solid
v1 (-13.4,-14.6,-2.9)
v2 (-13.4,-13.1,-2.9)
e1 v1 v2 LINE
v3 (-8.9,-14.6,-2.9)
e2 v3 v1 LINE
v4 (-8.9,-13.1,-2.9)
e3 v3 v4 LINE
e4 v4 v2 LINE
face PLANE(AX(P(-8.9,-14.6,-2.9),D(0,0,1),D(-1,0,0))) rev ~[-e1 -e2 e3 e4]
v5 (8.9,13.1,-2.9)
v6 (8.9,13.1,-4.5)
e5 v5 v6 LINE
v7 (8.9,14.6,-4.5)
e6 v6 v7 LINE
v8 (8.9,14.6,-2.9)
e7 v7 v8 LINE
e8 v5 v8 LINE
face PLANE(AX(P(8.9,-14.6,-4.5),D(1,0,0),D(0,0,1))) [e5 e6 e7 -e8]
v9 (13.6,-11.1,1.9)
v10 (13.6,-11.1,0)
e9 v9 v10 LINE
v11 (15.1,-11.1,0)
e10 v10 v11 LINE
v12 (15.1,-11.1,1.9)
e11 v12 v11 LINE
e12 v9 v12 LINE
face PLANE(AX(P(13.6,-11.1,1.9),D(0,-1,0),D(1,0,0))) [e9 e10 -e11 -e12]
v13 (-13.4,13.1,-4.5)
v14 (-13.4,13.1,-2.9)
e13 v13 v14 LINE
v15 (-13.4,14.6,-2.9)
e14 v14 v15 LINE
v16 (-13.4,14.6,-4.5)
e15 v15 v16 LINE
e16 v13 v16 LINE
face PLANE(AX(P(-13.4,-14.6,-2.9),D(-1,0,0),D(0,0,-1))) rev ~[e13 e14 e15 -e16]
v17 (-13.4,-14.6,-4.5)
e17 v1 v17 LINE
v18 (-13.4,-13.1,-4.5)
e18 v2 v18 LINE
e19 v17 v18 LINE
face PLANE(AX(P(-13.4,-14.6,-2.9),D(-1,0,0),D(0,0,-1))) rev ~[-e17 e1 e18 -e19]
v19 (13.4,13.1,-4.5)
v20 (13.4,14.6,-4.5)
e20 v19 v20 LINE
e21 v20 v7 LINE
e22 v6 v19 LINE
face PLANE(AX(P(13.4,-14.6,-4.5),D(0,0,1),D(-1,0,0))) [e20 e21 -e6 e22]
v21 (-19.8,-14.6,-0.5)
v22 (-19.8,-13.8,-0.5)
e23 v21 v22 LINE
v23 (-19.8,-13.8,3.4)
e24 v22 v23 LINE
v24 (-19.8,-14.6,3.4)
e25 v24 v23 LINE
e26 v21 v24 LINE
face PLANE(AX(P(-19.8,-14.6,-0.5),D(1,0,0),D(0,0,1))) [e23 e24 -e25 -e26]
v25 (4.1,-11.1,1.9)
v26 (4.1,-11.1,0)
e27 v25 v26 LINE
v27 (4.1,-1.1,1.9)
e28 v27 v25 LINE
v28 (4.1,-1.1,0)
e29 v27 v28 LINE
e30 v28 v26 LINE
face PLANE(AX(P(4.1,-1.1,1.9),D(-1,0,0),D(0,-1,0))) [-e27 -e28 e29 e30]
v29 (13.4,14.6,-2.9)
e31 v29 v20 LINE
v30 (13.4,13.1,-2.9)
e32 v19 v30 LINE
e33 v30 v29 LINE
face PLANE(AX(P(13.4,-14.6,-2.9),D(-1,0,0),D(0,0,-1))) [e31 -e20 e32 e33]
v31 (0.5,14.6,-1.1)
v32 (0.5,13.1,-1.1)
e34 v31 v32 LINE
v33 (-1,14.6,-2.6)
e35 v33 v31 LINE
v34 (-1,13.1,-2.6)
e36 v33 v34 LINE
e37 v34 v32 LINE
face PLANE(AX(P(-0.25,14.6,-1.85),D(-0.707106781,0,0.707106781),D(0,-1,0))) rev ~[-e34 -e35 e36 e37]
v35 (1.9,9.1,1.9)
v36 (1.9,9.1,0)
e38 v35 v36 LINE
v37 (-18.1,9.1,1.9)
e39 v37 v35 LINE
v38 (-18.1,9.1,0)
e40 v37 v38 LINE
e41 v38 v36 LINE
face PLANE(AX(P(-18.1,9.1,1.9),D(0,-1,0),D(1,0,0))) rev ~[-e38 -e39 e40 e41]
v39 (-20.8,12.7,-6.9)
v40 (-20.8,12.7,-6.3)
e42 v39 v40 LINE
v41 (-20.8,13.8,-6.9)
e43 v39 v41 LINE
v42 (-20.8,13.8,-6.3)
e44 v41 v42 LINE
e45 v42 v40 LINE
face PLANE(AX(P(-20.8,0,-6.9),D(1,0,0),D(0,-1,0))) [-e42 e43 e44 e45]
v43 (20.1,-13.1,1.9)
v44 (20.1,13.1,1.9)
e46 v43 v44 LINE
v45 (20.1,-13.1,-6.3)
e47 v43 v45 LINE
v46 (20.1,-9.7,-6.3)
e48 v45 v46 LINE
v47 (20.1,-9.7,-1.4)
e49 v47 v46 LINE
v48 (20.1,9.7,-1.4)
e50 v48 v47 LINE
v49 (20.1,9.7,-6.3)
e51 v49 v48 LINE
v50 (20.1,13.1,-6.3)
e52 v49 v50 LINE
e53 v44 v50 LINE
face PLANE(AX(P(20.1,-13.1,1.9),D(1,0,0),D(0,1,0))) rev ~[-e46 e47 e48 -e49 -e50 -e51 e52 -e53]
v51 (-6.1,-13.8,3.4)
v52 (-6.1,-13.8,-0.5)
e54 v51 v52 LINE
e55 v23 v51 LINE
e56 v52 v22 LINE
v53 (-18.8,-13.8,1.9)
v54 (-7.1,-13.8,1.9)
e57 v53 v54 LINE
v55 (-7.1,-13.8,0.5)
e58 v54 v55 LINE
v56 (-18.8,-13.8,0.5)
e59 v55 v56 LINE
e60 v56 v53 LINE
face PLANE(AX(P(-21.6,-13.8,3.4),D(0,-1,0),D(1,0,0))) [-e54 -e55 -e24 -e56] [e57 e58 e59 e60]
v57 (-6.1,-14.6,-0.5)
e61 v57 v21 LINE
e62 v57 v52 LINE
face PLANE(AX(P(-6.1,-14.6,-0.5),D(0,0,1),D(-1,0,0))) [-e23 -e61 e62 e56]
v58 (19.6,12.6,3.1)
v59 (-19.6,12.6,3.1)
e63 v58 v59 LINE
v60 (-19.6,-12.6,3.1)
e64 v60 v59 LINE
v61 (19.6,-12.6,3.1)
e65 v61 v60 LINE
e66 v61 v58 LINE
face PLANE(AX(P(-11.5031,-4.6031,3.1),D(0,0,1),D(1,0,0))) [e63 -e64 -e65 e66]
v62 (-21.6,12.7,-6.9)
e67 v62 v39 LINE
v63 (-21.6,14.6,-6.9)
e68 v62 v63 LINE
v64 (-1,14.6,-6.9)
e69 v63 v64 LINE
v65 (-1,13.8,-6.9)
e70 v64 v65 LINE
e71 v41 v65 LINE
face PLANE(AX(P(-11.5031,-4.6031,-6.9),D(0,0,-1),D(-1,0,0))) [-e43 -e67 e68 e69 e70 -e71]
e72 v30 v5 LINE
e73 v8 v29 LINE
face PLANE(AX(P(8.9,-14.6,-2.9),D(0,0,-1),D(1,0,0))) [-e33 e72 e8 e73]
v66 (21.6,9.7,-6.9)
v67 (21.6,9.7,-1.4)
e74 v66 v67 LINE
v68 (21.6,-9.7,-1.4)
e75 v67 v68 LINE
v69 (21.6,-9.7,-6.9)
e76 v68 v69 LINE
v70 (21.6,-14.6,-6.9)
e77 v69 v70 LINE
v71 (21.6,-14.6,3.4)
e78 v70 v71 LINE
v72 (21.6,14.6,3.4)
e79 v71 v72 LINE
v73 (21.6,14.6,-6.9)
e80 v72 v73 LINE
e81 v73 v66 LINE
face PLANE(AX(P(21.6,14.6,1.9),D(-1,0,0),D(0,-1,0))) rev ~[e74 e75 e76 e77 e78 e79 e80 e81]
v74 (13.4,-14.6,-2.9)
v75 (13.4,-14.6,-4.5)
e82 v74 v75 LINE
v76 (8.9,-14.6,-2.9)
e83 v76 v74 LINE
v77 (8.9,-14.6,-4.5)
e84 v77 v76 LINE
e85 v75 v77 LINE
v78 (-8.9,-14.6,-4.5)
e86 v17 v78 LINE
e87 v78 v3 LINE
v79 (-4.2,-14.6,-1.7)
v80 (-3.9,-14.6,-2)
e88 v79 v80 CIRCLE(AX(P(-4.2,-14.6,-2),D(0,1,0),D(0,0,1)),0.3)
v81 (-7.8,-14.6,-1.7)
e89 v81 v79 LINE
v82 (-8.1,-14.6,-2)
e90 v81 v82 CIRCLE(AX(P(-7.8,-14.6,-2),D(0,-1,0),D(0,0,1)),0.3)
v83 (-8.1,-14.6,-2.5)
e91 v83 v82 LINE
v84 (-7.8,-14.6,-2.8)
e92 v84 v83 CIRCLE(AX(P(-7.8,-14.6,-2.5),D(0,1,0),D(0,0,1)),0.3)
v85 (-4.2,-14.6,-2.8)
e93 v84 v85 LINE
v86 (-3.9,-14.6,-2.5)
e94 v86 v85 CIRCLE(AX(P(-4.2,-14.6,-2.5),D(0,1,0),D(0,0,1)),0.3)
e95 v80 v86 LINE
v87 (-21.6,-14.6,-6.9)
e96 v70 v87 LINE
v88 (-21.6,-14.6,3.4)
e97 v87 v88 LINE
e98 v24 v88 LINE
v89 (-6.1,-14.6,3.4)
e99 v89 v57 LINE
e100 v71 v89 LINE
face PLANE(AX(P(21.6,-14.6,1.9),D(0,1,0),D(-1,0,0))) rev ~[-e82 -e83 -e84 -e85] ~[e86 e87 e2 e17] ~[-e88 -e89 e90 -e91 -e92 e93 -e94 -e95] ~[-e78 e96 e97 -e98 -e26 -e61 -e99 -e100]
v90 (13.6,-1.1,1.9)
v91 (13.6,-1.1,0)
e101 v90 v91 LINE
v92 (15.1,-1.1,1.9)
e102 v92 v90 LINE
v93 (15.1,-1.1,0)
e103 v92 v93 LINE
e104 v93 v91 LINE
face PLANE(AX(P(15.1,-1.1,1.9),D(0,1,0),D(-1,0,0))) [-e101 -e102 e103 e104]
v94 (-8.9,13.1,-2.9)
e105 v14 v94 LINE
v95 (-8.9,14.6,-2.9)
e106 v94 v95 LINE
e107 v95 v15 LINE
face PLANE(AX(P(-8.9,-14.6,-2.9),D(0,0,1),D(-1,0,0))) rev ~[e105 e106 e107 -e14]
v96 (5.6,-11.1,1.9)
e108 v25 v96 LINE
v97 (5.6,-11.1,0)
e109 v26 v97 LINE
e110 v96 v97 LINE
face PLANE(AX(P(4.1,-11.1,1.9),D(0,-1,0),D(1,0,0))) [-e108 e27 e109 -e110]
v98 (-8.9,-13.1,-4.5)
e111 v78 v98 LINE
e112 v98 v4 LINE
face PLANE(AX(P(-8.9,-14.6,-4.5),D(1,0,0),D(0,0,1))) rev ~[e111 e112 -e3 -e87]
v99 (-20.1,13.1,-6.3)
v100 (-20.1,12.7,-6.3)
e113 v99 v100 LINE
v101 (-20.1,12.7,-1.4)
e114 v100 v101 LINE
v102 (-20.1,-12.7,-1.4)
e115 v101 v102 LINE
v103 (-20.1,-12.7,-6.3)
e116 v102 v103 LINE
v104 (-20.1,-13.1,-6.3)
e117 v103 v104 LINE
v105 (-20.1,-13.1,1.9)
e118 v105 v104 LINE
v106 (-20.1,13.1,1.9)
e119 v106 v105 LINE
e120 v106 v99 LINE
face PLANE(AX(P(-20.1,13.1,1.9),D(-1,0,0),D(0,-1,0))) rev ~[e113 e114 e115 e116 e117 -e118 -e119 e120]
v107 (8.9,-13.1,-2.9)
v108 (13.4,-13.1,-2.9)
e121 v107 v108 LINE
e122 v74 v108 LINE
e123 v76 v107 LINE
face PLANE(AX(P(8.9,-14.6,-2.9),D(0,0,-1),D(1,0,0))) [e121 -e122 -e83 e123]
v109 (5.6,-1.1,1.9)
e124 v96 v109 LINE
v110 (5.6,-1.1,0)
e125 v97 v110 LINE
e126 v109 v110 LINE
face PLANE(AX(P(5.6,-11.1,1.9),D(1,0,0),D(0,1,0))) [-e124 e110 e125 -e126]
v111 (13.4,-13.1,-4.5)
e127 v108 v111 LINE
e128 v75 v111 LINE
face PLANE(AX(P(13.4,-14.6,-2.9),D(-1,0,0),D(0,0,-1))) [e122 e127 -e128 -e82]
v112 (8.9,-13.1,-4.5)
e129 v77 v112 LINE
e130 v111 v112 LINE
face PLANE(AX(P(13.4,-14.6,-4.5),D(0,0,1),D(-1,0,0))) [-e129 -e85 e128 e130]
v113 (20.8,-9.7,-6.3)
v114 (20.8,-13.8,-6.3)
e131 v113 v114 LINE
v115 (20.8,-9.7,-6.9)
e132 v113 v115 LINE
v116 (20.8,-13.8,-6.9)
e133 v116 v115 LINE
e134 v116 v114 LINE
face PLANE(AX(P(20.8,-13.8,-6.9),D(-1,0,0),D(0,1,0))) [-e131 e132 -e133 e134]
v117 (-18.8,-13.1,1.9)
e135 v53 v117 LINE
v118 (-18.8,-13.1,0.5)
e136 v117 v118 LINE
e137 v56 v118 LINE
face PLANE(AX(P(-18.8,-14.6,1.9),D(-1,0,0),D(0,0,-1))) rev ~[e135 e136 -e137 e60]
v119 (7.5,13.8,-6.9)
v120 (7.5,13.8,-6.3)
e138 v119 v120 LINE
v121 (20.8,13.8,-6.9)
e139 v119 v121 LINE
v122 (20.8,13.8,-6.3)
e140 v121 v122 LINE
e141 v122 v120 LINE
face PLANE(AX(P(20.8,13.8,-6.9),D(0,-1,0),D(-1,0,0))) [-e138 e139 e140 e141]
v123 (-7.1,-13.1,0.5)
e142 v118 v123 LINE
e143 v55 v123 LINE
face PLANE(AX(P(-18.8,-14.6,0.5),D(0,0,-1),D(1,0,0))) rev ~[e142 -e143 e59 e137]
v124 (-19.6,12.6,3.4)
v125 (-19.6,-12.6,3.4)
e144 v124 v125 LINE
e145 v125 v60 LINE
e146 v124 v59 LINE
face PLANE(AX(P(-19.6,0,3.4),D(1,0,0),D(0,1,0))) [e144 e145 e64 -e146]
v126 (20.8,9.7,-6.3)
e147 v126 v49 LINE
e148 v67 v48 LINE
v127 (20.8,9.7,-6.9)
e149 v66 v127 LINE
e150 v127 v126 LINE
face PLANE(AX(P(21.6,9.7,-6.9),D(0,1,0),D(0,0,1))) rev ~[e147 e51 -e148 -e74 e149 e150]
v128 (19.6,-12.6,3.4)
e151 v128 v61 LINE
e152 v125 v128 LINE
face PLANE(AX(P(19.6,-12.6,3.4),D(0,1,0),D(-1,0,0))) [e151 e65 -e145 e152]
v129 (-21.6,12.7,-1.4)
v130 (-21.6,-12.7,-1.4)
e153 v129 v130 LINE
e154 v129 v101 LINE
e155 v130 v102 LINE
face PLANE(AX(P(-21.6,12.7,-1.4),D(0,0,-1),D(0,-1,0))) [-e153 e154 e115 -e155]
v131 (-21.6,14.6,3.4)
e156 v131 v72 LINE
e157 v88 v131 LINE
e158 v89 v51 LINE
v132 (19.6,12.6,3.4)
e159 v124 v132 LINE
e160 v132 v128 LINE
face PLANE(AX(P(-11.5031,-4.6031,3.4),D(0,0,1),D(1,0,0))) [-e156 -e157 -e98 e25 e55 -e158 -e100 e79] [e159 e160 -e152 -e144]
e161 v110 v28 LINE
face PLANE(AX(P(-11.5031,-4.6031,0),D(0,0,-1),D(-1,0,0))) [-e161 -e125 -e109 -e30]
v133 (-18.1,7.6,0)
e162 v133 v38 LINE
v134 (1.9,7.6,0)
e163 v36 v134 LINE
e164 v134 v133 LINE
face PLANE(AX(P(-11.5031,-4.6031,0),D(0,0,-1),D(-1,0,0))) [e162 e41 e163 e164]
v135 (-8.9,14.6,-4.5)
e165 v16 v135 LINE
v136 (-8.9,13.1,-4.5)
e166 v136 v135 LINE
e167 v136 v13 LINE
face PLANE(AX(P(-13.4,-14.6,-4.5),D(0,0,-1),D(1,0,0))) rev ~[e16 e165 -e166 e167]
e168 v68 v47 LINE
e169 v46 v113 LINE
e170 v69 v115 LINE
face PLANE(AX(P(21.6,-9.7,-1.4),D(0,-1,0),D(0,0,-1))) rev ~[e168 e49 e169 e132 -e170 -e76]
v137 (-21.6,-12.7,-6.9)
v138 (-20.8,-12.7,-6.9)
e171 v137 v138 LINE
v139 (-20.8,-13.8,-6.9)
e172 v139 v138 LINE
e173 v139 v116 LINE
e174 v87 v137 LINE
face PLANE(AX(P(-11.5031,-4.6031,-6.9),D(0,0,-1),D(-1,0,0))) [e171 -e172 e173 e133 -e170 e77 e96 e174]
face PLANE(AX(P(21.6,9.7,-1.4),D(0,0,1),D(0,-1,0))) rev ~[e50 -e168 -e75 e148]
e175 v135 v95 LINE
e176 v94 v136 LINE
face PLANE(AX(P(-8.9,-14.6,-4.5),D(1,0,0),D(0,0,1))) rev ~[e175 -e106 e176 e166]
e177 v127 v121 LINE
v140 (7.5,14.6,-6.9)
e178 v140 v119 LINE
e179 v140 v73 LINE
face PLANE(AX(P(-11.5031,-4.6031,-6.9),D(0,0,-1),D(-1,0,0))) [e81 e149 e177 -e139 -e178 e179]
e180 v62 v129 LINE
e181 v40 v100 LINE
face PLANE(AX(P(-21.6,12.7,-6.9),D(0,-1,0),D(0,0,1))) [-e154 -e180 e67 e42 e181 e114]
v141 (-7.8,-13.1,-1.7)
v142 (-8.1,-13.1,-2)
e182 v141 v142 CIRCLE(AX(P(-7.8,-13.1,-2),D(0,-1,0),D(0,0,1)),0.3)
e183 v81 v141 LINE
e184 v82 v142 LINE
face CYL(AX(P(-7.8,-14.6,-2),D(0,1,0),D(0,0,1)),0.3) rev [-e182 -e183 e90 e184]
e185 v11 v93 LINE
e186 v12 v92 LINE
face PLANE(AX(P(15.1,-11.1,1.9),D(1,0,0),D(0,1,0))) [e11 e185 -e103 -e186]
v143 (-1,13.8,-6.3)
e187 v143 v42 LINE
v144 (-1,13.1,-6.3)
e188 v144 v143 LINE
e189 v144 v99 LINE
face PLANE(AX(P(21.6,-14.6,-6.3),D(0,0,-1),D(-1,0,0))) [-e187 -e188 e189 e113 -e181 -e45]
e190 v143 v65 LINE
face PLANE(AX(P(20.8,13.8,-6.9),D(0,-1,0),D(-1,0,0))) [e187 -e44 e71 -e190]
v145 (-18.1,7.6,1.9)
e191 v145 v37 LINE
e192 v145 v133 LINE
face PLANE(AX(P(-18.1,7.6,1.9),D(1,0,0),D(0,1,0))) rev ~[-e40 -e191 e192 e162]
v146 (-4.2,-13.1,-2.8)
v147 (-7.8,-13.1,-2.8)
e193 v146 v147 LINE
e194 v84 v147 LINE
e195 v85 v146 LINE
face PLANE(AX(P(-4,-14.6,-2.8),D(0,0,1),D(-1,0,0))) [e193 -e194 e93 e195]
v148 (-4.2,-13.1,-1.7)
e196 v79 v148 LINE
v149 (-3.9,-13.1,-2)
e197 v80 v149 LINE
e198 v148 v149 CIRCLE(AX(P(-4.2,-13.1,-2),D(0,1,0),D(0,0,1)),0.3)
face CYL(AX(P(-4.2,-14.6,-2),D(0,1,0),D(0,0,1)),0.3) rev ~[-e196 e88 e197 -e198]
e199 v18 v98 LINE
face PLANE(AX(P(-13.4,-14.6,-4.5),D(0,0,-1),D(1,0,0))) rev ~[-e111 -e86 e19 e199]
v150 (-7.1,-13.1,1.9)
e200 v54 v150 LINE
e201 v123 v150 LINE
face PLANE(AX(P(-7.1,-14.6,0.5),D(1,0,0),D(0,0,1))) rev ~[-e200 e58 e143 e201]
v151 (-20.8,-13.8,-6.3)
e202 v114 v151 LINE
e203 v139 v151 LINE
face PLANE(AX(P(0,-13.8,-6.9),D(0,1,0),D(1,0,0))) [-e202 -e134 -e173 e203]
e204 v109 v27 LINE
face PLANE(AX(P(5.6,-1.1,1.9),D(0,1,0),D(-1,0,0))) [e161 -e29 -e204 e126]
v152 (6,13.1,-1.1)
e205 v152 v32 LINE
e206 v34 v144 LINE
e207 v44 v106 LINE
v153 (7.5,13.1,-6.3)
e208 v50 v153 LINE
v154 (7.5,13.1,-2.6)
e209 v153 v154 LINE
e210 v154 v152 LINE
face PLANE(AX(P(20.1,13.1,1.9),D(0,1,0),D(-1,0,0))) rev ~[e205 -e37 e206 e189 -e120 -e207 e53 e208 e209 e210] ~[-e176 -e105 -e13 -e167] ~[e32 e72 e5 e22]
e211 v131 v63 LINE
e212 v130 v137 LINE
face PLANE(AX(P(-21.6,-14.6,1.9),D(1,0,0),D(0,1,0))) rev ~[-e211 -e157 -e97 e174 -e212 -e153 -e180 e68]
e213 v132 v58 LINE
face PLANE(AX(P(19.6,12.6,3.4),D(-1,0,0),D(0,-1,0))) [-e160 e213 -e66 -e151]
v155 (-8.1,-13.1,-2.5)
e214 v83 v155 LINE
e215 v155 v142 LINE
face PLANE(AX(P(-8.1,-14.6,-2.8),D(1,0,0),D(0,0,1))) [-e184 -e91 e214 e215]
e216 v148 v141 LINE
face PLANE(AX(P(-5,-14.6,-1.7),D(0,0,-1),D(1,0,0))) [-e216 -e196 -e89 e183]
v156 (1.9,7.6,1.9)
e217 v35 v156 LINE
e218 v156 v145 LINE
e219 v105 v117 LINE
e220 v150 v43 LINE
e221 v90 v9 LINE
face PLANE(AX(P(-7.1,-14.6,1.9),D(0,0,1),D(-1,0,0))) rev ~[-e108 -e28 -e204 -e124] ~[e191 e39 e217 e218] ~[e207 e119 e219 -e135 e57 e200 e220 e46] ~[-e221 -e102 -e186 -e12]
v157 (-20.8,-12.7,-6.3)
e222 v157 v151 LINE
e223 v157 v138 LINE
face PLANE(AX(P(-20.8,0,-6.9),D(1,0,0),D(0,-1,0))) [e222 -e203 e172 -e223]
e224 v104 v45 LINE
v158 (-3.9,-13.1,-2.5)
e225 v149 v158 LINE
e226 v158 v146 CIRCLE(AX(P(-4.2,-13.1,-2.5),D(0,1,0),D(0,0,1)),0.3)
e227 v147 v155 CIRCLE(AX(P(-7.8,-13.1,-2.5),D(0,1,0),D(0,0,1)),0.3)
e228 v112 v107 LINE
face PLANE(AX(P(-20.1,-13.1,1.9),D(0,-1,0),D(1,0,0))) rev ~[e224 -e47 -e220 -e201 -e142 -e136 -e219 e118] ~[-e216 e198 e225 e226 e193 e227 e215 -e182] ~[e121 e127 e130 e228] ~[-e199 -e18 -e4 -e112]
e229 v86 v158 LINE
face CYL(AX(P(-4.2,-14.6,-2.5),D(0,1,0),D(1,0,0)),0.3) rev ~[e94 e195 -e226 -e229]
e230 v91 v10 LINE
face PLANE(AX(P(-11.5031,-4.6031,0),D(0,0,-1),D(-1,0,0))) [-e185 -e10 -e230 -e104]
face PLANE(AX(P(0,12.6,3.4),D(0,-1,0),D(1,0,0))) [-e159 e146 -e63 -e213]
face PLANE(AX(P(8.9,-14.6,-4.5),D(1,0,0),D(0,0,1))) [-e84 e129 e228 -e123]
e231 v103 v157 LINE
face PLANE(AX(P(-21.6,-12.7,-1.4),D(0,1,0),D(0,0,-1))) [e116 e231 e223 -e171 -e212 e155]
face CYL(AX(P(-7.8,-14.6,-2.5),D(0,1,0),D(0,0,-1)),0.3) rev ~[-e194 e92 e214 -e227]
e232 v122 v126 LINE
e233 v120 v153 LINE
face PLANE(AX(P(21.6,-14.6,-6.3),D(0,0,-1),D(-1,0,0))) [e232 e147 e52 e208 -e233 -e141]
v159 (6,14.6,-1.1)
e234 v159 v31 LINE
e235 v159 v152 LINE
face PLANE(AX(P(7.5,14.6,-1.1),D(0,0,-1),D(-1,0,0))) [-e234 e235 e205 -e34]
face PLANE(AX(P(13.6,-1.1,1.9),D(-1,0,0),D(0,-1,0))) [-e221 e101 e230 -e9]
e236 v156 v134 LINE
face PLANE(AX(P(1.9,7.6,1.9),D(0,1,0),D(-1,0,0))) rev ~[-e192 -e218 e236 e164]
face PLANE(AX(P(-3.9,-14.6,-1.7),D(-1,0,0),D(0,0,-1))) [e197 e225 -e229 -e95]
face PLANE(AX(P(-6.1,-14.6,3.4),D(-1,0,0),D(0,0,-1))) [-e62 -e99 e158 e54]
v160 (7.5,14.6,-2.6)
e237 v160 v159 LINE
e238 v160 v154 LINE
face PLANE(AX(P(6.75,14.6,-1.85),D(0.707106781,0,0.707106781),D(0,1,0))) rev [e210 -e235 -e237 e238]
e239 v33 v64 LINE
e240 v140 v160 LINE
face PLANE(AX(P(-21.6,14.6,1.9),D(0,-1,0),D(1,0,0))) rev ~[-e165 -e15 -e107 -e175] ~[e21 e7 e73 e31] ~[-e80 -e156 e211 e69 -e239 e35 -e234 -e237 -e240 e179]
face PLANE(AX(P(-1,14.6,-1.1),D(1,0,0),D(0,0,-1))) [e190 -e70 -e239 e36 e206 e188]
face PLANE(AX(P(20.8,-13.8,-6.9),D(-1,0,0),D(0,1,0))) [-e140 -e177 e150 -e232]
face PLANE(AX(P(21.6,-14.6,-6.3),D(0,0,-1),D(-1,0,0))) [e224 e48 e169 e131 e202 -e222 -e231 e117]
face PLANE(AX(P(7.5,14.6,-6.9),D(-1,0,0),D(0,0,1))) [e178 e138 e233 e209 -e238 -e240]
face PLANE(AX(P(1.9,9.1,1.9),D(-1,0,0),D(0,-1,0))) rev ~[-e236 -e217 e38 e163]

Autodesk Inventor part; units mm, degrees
ref_plane "YZ Plane" through (0, 0, 0) normal (1, 0, 0) x (0, 1, 0)
ref_plane "XZ Plane" through (0, 0, 0) normal (0, 1, 0) x (-1, 0, 0)
ref_plane "EbeneBoden" through (-11.5031, -4.6031, 1.9) normal (0, 0, 1) x (1, 0, 0)
ref_plane "EbeneWändeEnde" through (17.7, 4.9, -6.9) normal (0, 0, -1) x (-1, 0, 0)
sketch "SkizzeBoden" plane through (-11.5031, -4.6031, 1.9) normal (0, 0, 1) x (1, 0, 0)
  line L0 (-7.1969, 7.4031) -> (6.8031, 7.4031) projected
  line L1 (6.8031, 7.4031) -> (6.8031, -7.7969) projected
  line L2 (6.8031, -7.7969) -> (4.3031, -7.7969) projected
  line L3 (4.3031, -7.7969) -> (4.3031, -6.7969) projected
  line L4 (4.3031, -6.7969) -> (-7.1969, -6.7969) projected
  line L5 (-7.1969, -6.7969) -> (-7.1969, 7.4031) projected
  line L6 (31.5031, 17.6031) -> (-8.4969, 17.6031) projected
  line L7 (-8.4969, 17.6031) -> (-8.4969, -8.3969) projected
  line L8 (-8.4969, -8.3969) -> (31.5031, -8.3969) projected
  line L9 (31.5031, -8.3969) -> (31.5031, 17.6031) projected
  line L10 (-18.7369, 4.6031) -> (41.7431, 4.6031) projected
  line L11 (11.5031, -15.8369) -> (11.5031, 25.0431) projected
  line L12 (-10.0969, 19.2031) -> (33.1031, 19.2031)
  line L13 (33.1031, 19.2031) -> (33.1031, -9.9969)
  line L14 (33.1031, -9.9969) -> (-10.0969, -9.9969)
  line L15 (-10.0969, -9.9969) -> (-10.0969, 19.2031)
  point P0 (11.5031, 4.6031)
  dimension "d0" = 1.6
extrude "Boden" add sketch "SkizzeBoden" along normal blind 1.5
sketch "SkizzeWände" plane through (-11.5031, -4.6031, 1.9) normal (0, 0, -1) x (-1, 0, 0)
  line L0 (10.0969, 19.2031) -> (-33.1031, 19.2031) projected
  line L1 (-33.1031, 19.2031) -> (-33.1031, -9.9969) projected
  line L2 (-33.1031, -9.9969) -> (10.0969, -9.9969) projected
  line L3 (10.0969, -9.9969) -> (10.0969, 19.2031) projected
  line L4 (-31.6031, 17.7031) -> (8.5969, 17.7031)
  line L5 (8.5969, 17.7031) -> (8.5969, -8.4969)
  line L6 (8.5969, -8.4969) -> (-31.6031, -8.4969)
  line L7 (-31.6031, -8.4969) -> (-31.6031, 17.7031)
  point P0 (-11.5031, 4.6031)
  dimension "d3" = 1.5
extrude "Wände" add sketch "SkizzeWände" along normal up to surface (8.8 mm away)
sketch "SkizzeAuflage" plane through (-11.5031, -4.6031, 1.9) normal (0, 0, -1) x (-1, 0, 0)
  line L0 (8.5969, -8.4969) -> (8.5969, 17.7031) projected
  line L1 (-31.6031, -8.4969) -> (8.5969, -8.4969) projected
  line L2 (-31.6031, 17.7031) -> (-31.6031, -8.4969) projected
  line L3 (8.5969, 17.7031) -> (-31.6031, 17.7031) projected
  line L4 (10.0969, 19.2031) -> (10.0969, -9.9969) projected
  line L5 (-33.1031, 19.2031) -> (10.0969, 19.2031) projected
  line L6 (-33.1031, -9.9969) -> (-33.1031, 19.2031) projected
  line L7 (10.0969, -9.9969) -> (-33.1031, -9.9969) projected
  line L8 (-26.6031, 3.5031) -> (-25.1031, 3.5031)
  line L9 (-25.1031, 3.5031) -> (-25.1031, -6.4969)
  line L10 (-25.1031, -6.4969) -> (-26.6031, -6.4969)
  line L11 (-26.6031, -6.4969) -> (-26.6031, 3.5031)
  line L12 (-17.1031, 3.5031) -> (-15.6031, 3.5031)
  line L13 (-15.6031, 3.5031) -> (-15.6031, -6.4969)
  line L14 (-15.6031, -6.4969) -> (-17.1031, -6.4969)
  line L15 (-17.1031, -6.4969) -> (-17.1031, 3.5031)
  line L16 (6.5969, 13.7031) -> (-13.4031, 13.7031)
  line L17 (-13.4031, 13.7031) -> (-13.4031, 12.2031)
  line L18 (-13.4031, 12.2031) -> (6.5969, 12.2031)
  line L19 (6.5969, 12.2031) -> (6.5969, 13.7031)
  point P0 (-11.5031, 4.6031)
  dimension "d6" = 5
  dimension "d7" = 1.5
  dimension "d8" = 8
  dimension "d9" = 2
  dimension "d10" = 10
  dimension "d11" = 20
  dimension "d12" = 1.5
  dimension "d13" = 4
  dimension "d14" = 2
ref_plane "EbeneAuflage" through (-20, -13, 0) normal (0, 0, 1) x (1, 0, 0)
extrude "Auflage" add sketch "SkizzeAuflage" along normal up to surface (1.9 mm away) contours L8 L9 L10 L11 | L12 L13 L14 L15 | L19 L18 L17 L16
sketch "SkizzeSD" plane through (-21.6, -14.6, 3.4) normal (0, -1, 0) x (1, 0, 0)
  line L0 (43.2, 0) -> (43.2, -10.3) projected
  line L1 (3.1, -2.6) -> (14.2, -2.6) projected
  line L2 (14.2, -2.6) -> (14.2, -1.6) projected
  line L3 (14.2, -1.6) -> (3.1, -1.6) projected
  line L4 (3.1, -1.6) -> (3.1, -2.6) projected
  line L5 (41.7, -1.5) -> (1.5, -1.5) projected
  line L6 (14.5, -1.5) -> (2.8, -1.5)
  line L7 (2.8, -1.5) -> (2.8, -2.9)
  line L8 (2.8, -2.9) -> (14.5, -2.9)
  line L9 (14.5, -2.9) -> (14.5, -1.5)
  line L10 (8.65, -4) -> (8.65, -0.8838) construction
  point P0 (21.6, -3.4)
  point P1 (8.65, -2.6)
  dimension "d17" = 0.3
  dimension "d18" = 0.3
extrude "SD" cut sketch "SkizzeSD" against normal up to surface (1.5 mm away) contours L4 L3 L2 L1 | L9 L8 L7 L5
sketch "Skizze7" plane through (-21.6, -14.6, 3.4) normal (0, -1, 0) x (1, 0, 0)
  line L0 (14.5, -1.5) -> (14.5, -2.9) projected
  line L1 (14.5, -2.9) -> (2.8, -2.9) projected
  line L2 (0, 0) -> (43.2, 0) projected
  line L3 (15.5, -3.9) -> (1.8, -3.9)
  line L4 (1.8, -3.9) -> (1.8, 0)
  line L5 (1.8, 0) -> (15.5, 0)
  line L6 (15.5, 0) -> (15.5, -3.9)
  line L7 (8.65, -3.6567) -> (8.65, -1) construction
  point P0 (21.6, -3.4)
  point P1 (8.65, -2.9)
  dimension "d21" = 1
  dimension "d22" = 1
extrude "SDHilfe" cut sketch "Skizze7" against normal blind 0.8
sketch "SkizzeLED" plane through (-21.6, -14.6, -6.9) normal (0, -1, 0) x (1, 0, 0)
  line L0 (16.6, 5.2) -> (17.6, 5.2) projected
  line L1 (16.6, 5.2) -> (16.6, 4.1) projected
  line L2 (17.6, 4.1) -> (16.6, 4.1) projected
  line L3 (17.6, 5.2) -> (17.6, 4.1) projected
  line L4 (15.1, 5.2) -> (16.1, 5.2) projected
  line L5 (15.1, 5.2) -> (15.1, 4.1) projected
  line L6 (16.1, 4.1) -> (15.1, 4.1) projected
  line L7 (16.1, 5.2) -> (16.1, 4.1) projected
  line L8 (13.6, 5.2) -> (14.6, 5.2) projected
  line L9 (13.6, 5.2) -> (13.6, 4.1) projected
  line L10 (14.6, 4.1) -> (13.6, 4.1) projected
  line L11 (14.6, 5.2) -> (14.6, 4.1) projected
  line L12 (15.6, 3.5363) -> (15.6, 5.4531) construction
  line L13 (17.7, 4.1) -> (13.5, 4.1)
  line L14 (13.5, 4.1) -> (13.5, 5.2)
  line L15 (13.5, 5.2) -> (17.7, 5.2)
  line L16 (17.7, 5.2) -> (17.7, 4.1)
  line L17 (41.6, 5.2) -> (1.6, 5.2) projected
  point P0 (21.6, 6.9)
  point P1 (15.6, 4.1)
  dimension "d25" = 0.1
extrude "LED" cut sketch "SkizzeLED" against normal up to surface (1.5 mm away)
fillet "RundungLED" radius 0.3 4 edges at (-8.1, -13.85, -2.8) (-3.9, -13.85, -2.8) (-8.1, -13.85, -1.7) (-3.9, -13.85, -1.7)
sketch "SkizzeUSB" plane through (-21.6, 14.6, 3.4) normal (0, 1, 0) x (1, 0, 0)
  line L0 (43.2, 10.3) -> (0, 10.3) projected
  ellipse E0 centre (28.273, 7.641) end of major axis (28.5965, 8.1263) minor radius 0.5 (28.8, 7.72) -> (28.3475, 8.2) ccw projected
  line L1 (28.3475, 8.2) -> (21.3525, 8.2) projected
  ellipse E1 centre (21.427, 7.641) end of major axis (21.1035, 8.1263) minor radius 0.5 (21.3525, 8.2) -> (20.9, 7.72) ccw projected
  line L2 (20.9, 7.72) -> (20.9, 6.4602) projected
  line L3 (22.4652, 4.8) -> (20.9, 6.4602) projected
  line L4 (22.4652, 4.8) -> (27.2348, 4.8) projected
  line L5 (28.8, 6.4602) -> (27.2348, 4.8) projected
  line L6 (28.8, 6.4602) -> (28.8, 7.72) projected
  ellipse E2 centre (28.273, 7.641) end of major axis (28.5965, 8.1263) minor radius 0.5 (28.8, 7.72) -> (28.3475, 8.2) ccw projected
  line L7 (28.3475, 8.2) -> (21.3525, 8.2) projected
  ellipse E3 centre (21.427, 7.641) end of major axis (21.1035, 8.1263) minor radius 0.5 (21.3525, 8.2) -> (20.9, 7.72) ccw projected
  line L8 (20.9, 7.72) -> (20.9, 6.4602) projected
  line L9 (22.4652, 4.8) -> (20.9, 6.4602) projected
  line L10 (22.4652, 4.8) -> (27.2348, 4.8) projected
  line L11 (28.8, 6.4602) -> (27.2348, 4.8) projected
  line L12 (28.8, 6.4602) -> (28.8, 7.72) projected
  line L13 (20.6, 10.3) -> (29.1, 10.3)
  line L14 (29.1, 10.3) -> (29.1, 4.5)
  line L15 (29.1, 4.5) -> (20.6, 4.5)
  line L16 (20.6, 4.5) -> (20.6, 10.3)
  line L17 (24.85, 8.6856) -> (24.85, 4.4469) construction
  point P0 (21.6, 3.4)
  point P1 (24.85, 8.2)
  dimension "d29" = 0.3
  dimension "d30" = 0.3
extrude "USB" cut sketch "SkizzeUSB" against normal up to surface (1.5 mm away) contours L14 L15 L16 L0 | L6 L5 L4 L3 L2 E1 L1 E0
chamfer "FaseUSB" distance 1.5 angle 45 2 edges at (7.5, 13.85, -1.1) (-1, 13.85, -1.1)
sketch "Skizze10" plane through (-21.6, -14.6, 3.4) normal (-1, 0, 0) x (0, 0, 1)
  line L0 (-10.3, 29.2) -> (-10.3, 0) projected
  line L1 (-5.1, 27) -> (-5.1, 12) projected
  line L2 (-5.1, 27) -> (-8.8, 27) projected
  line L3 (-8.8, 12) -> (-8.8, 27) projected
  line L4 (-5.1, 12) -> (-8.8, 12) projected
  line L5 (-5.1, 11.2) -> (-5.1, 2.2) projected
  line L6 (-5.1, 11.2) -> (-8.8, 11.2) projected
  line L7 (-8.8, 2.2) -> (-8.8, 11.2) projected
  line L8 (-5.1, 2.2) -> (-8.8, 2.2) projected
  line L9 (-4.8, 1.9) -> (-10.3, 1.9)
  line L10 (-10.3, 1.9) -> (-10.3, 27.3)
  line L11 (-10.3, 27.3) -> (-4.8, 27.3)
  line L12 (-4.8, 27.3) -> (-4.8, 1.9)
  line L13 (0, 29.2) -> (0, 0) projected
  line L14 (-10.3, 29.2) -> (0, 29.2) projected
  line L15 (3, 14.6) -> (-13.529, 14.6) construction
  line L16 (-8.4, 2.6) -> (-8.4, 10.8) projected
  line L17 (-8.4, 10.8) -> (-5.5, 10.8) projected
  line L18 (-5.5, 10.8) -> (-5.5, 2.6) projected
  line L19 (-5.5, 2.6) -> (-8.4, 2.6) projected
  line L20 (-8.4, 12.4) -> (-8.4, 26.6) projected
  line L21 (-8.4, 26.6) -> (-5.5, 26.6) projected
  line L22 (-5.5, 26.6) -> (-5.5, 12.4) projected
  line L23 (-5.5, 12.4) -> (-8.4, 12.4) projected
  point P0 (-3.4, 14.6)
  point P1 (0, 14.6)
  dimension "d36" = 0.3
  dimension "d38" = 0.3
extrude "JSTFC" cut sketch "Skizze10" against normal up to surface (1.5 mm away) contours L11 L12 L9 L0 | L1 L4 L3 L2 | L5 L8 L7 L6 | L16 L17 L18 L19 | L20 L21 L22 L23
sketch "Skizze11" plane through (21.6, -14.6, 3.4) normal (1, 0, 0) x (0, 0, -1)
  line L0 (10.3, 0) -> (10.3, 29.2) projected
  line L1 (13.0125, 14.6) -> (-3.6442, 14.6) construction
  line L2 (5.1, 15) -> (5.1, 24) projected
  line L3 (5.1, 15) -> (8.8, 15) projected
  line L4 (8.8, 24) -> (8.8, 15) projected
  line L5 (5.1, 24) -> (8.8, 24) projected
  line L6 (5.1, 5.2) -> (5.1, 14.2) projected
  line L7 (5.1, 5.2) -> (8.8, 5.2) projected
  line L8 (8.8, 14.2) -> (8.8, 5.2) projected
  line L9 (5.1, 14.2) -> (8.8, 14.2) projected
  line L10 (10.3, 24.3) -> (4.8, 24.3)
  line L11 (4.8, 24.3) -> (4.8, 4.9)
  line L12 (4.8, 4.9) -> (10.3, 4.9)
  line L13 (10.3, 4.9) -> (10.3, 24.3)
  line L14 (5.5, 13.8) -> (8.4, 13.8) projected
  line L15 (8.4, 13.8) -> (8.4, 5.6) projected
  line L16 (8.4, 5.6) -> (5.5, 5.6) projected
  line L17 (5.5, 5.6) -> (5.5, 13.8) projected
  line L18 (8.4, 23.6) -> (8.4, 15.4) projected
  line L19 (8.4, 15.4) -> (5.5, 15.4) projected
  line L20 (5.5, 15.4) -> (5.5, 23.6) projected
  line L21 (5.5, 23.6) -> (8.4, 23.6) projected
  point P0 (3.4, 14.6)
  point P1 (10.3, 14.6)
  dimension "d41" = 0.3
  dimension "d42" = 0.3
extrude "JSTOSD" cut sketch "Skizze11" against normal up to surface (1.5 mm away) contours L12 L11 L10 L0 | L2 L5 L4 L3 | L6 L9 L8 L7 | L14 L15 L16 L17 | L18 L19 L20 L21
sketch "Skizze12" plane through (21.6, -14.6, -6.9) normal (0, 0, -1) x (-1, 0, 0)
  line L0 (0, 0) -> (0, 4.9) projected
  line L1 (43.2, 0) -> (0, 0) projected
  line L2 (21.6, -5.84) -> (21.6, 35.04) projected
  line L3 (51.84, 14.6) -> (-8.64, 14.6) projected
  line L4 (0.8, 28.4) -> (42.4, 28.4)
  line L5 (42.4, 28.4) -> (42.4, 0.8)
  line L6 (42.4, 0.8) -> (0.8, 0.8)
  line L7 (0.8, 0.8) -> (0.8, 28.4)
  point P0 (21.6, 14.6)
  dimension "d45" = 0.8
  dimension "d46" = 0.8
extrude "Lippe" cut sketch "Skizze12" against normal blind 0.6
sketch "SkizzeSchnapper" plane through (-21.6, -14.6, -6.9) normal (0, -1, 0) x (1, 0, 0)
  line L0 (36.2, 5.2) -> (41.6, 5.2) projected
  line L1 (36.2, 5.2) -> (36.2, 1.5) projected
  line L2 (42.4, 1.5) -> (36.2, 1.5) projected
  line L3 (42.4, 5.2) -> (42.4, 1.5) projected
  line L4 (41.6, 5.2) -> (42.4, 5.2) projected
  line L5 (0.8, 5.2) -> (1.6, 5.2) projected
  line L6 (0.8, 5.2) -> (0.8, 1.5) projected
  line L7 (7, 1.5) -> (0.8, 1.5) projected
  line L8 (7, 5.2) -> (7, 1.5) projected
  line L9 (1.6, 5.2) -> (7, 5.2) projected
  ellipse E0 centre (28.273, 2.659) end of major axis (28.5965, 2.1737) minor radius 0.5 (28.3475, 2.1) -> (28.8, 2.58) ccw projected
  line L10 (28.3475, 2.1) -> (21.3525, 2.1) projected
  ellipse E1 centre (21.427, 2.659) end of major axis (21.1035, 2.1737) minor radius 0.5 (20.9, 2.58) -> (21.3525, 2.1) ccw projected
  line L11 (20.9, 2.58) -> (20.9, 3.8398) projected
  line L12 (22.4652, 5.5) -> (20.9, 3.8398) projected
  line L13 (22.4652, 5.5) -> (27.2348, 5.5) projected
  line L14 (28.8, 3.8398) -> (27.2348, 5.5) projected
  line L15 (28.8, 3.8398) -> (28.8, 2.58) projected
  line L16 (35, 2.4) -> (30.5, 2.4)
  line L17 (30.5, 2.4) -> (30.5, 4)
  line L18 (30.5, 4) -> (35, 4)
  line L19 (35, 4) -> (35, 2.4)
  line L20 (21.6, -2.06) -> (21.6, 12.36) projected
  line L21 (1.5, 0.6) -> (0.8, 0.6) projected
  line L22 (41.7, 0.6) -> (1.5, 0.6) projected
  line L23 (42.4, 0.6) -> (41.7, 0.6) projected
  line L24 (0.8, 0.6) -> (42.4, 0.6) projected
  line L25 (41.6, 5.2) -> (1.6, 5.2) projected
  line L26 (8.2, 2.4) -> (12.7, 2.4)
  line L27 (12.7, 2.4) -> (12.7, 4)
  line L28 (12.7, 4) -> (8.2, 4)
  line L29 (8.2, 4) -> (8.2, 2.4)
  point P0 (21.6, 6.9)
  dimension "d49" = 4.5
  dimension "d50" = 1.8
  dimension "d51" = 1.2
  dimension "d52" = 1.6
  dimension "d53" = 1.2
extrude "Schnapper" cut sketch "SkizzeSchnapper" against normal up to surface (29.2 mm away) contours L16 L17 L18 L19 | L29 L28 L27 L26
sketch "SkizzeAufkleber" plane through (-11.5031, -4.6031, 3.4) normal (0, 0, 1) x (1, 0, 0)
  line L0 (33.1031, 19.2031) -> (-10.0969, 19.2031) projected
  line L1 (-10.0969, 19.2031) -> (-10.0969, -9.9969) projected
  line L2 (11.5031, -15.8369) -> (11.5031, 25.0431) projected
  line L3 (-18.7369, 4.6031) -> (41.7431, 4.6031) projected
  line L4 (-8.0969, 17.2031) -> (31.1031, 17.2031)
  line L5 (31.1031, 17.2031) -> (31.1031, -7.9969)
  line L6 (31.1031, -7.9969) -> (-8.0969, -7.9969)
  line L7 (-8.0969, -7.9969) -> (-8.0969, 17.2031)
  point P0 (11.5031, 4.6031)
  dimension "d56" = 2
  dimension "d57" = 2
extrude "Aufkleber" cut sketch "SkizzeAufkleber" against normal blind 0.3 contours L4 L5 L3 L2 | L2 L3 L7 L4 | L3 L5 L6 L2 | L2 L6 L7 L3
properties part number "Boden"
